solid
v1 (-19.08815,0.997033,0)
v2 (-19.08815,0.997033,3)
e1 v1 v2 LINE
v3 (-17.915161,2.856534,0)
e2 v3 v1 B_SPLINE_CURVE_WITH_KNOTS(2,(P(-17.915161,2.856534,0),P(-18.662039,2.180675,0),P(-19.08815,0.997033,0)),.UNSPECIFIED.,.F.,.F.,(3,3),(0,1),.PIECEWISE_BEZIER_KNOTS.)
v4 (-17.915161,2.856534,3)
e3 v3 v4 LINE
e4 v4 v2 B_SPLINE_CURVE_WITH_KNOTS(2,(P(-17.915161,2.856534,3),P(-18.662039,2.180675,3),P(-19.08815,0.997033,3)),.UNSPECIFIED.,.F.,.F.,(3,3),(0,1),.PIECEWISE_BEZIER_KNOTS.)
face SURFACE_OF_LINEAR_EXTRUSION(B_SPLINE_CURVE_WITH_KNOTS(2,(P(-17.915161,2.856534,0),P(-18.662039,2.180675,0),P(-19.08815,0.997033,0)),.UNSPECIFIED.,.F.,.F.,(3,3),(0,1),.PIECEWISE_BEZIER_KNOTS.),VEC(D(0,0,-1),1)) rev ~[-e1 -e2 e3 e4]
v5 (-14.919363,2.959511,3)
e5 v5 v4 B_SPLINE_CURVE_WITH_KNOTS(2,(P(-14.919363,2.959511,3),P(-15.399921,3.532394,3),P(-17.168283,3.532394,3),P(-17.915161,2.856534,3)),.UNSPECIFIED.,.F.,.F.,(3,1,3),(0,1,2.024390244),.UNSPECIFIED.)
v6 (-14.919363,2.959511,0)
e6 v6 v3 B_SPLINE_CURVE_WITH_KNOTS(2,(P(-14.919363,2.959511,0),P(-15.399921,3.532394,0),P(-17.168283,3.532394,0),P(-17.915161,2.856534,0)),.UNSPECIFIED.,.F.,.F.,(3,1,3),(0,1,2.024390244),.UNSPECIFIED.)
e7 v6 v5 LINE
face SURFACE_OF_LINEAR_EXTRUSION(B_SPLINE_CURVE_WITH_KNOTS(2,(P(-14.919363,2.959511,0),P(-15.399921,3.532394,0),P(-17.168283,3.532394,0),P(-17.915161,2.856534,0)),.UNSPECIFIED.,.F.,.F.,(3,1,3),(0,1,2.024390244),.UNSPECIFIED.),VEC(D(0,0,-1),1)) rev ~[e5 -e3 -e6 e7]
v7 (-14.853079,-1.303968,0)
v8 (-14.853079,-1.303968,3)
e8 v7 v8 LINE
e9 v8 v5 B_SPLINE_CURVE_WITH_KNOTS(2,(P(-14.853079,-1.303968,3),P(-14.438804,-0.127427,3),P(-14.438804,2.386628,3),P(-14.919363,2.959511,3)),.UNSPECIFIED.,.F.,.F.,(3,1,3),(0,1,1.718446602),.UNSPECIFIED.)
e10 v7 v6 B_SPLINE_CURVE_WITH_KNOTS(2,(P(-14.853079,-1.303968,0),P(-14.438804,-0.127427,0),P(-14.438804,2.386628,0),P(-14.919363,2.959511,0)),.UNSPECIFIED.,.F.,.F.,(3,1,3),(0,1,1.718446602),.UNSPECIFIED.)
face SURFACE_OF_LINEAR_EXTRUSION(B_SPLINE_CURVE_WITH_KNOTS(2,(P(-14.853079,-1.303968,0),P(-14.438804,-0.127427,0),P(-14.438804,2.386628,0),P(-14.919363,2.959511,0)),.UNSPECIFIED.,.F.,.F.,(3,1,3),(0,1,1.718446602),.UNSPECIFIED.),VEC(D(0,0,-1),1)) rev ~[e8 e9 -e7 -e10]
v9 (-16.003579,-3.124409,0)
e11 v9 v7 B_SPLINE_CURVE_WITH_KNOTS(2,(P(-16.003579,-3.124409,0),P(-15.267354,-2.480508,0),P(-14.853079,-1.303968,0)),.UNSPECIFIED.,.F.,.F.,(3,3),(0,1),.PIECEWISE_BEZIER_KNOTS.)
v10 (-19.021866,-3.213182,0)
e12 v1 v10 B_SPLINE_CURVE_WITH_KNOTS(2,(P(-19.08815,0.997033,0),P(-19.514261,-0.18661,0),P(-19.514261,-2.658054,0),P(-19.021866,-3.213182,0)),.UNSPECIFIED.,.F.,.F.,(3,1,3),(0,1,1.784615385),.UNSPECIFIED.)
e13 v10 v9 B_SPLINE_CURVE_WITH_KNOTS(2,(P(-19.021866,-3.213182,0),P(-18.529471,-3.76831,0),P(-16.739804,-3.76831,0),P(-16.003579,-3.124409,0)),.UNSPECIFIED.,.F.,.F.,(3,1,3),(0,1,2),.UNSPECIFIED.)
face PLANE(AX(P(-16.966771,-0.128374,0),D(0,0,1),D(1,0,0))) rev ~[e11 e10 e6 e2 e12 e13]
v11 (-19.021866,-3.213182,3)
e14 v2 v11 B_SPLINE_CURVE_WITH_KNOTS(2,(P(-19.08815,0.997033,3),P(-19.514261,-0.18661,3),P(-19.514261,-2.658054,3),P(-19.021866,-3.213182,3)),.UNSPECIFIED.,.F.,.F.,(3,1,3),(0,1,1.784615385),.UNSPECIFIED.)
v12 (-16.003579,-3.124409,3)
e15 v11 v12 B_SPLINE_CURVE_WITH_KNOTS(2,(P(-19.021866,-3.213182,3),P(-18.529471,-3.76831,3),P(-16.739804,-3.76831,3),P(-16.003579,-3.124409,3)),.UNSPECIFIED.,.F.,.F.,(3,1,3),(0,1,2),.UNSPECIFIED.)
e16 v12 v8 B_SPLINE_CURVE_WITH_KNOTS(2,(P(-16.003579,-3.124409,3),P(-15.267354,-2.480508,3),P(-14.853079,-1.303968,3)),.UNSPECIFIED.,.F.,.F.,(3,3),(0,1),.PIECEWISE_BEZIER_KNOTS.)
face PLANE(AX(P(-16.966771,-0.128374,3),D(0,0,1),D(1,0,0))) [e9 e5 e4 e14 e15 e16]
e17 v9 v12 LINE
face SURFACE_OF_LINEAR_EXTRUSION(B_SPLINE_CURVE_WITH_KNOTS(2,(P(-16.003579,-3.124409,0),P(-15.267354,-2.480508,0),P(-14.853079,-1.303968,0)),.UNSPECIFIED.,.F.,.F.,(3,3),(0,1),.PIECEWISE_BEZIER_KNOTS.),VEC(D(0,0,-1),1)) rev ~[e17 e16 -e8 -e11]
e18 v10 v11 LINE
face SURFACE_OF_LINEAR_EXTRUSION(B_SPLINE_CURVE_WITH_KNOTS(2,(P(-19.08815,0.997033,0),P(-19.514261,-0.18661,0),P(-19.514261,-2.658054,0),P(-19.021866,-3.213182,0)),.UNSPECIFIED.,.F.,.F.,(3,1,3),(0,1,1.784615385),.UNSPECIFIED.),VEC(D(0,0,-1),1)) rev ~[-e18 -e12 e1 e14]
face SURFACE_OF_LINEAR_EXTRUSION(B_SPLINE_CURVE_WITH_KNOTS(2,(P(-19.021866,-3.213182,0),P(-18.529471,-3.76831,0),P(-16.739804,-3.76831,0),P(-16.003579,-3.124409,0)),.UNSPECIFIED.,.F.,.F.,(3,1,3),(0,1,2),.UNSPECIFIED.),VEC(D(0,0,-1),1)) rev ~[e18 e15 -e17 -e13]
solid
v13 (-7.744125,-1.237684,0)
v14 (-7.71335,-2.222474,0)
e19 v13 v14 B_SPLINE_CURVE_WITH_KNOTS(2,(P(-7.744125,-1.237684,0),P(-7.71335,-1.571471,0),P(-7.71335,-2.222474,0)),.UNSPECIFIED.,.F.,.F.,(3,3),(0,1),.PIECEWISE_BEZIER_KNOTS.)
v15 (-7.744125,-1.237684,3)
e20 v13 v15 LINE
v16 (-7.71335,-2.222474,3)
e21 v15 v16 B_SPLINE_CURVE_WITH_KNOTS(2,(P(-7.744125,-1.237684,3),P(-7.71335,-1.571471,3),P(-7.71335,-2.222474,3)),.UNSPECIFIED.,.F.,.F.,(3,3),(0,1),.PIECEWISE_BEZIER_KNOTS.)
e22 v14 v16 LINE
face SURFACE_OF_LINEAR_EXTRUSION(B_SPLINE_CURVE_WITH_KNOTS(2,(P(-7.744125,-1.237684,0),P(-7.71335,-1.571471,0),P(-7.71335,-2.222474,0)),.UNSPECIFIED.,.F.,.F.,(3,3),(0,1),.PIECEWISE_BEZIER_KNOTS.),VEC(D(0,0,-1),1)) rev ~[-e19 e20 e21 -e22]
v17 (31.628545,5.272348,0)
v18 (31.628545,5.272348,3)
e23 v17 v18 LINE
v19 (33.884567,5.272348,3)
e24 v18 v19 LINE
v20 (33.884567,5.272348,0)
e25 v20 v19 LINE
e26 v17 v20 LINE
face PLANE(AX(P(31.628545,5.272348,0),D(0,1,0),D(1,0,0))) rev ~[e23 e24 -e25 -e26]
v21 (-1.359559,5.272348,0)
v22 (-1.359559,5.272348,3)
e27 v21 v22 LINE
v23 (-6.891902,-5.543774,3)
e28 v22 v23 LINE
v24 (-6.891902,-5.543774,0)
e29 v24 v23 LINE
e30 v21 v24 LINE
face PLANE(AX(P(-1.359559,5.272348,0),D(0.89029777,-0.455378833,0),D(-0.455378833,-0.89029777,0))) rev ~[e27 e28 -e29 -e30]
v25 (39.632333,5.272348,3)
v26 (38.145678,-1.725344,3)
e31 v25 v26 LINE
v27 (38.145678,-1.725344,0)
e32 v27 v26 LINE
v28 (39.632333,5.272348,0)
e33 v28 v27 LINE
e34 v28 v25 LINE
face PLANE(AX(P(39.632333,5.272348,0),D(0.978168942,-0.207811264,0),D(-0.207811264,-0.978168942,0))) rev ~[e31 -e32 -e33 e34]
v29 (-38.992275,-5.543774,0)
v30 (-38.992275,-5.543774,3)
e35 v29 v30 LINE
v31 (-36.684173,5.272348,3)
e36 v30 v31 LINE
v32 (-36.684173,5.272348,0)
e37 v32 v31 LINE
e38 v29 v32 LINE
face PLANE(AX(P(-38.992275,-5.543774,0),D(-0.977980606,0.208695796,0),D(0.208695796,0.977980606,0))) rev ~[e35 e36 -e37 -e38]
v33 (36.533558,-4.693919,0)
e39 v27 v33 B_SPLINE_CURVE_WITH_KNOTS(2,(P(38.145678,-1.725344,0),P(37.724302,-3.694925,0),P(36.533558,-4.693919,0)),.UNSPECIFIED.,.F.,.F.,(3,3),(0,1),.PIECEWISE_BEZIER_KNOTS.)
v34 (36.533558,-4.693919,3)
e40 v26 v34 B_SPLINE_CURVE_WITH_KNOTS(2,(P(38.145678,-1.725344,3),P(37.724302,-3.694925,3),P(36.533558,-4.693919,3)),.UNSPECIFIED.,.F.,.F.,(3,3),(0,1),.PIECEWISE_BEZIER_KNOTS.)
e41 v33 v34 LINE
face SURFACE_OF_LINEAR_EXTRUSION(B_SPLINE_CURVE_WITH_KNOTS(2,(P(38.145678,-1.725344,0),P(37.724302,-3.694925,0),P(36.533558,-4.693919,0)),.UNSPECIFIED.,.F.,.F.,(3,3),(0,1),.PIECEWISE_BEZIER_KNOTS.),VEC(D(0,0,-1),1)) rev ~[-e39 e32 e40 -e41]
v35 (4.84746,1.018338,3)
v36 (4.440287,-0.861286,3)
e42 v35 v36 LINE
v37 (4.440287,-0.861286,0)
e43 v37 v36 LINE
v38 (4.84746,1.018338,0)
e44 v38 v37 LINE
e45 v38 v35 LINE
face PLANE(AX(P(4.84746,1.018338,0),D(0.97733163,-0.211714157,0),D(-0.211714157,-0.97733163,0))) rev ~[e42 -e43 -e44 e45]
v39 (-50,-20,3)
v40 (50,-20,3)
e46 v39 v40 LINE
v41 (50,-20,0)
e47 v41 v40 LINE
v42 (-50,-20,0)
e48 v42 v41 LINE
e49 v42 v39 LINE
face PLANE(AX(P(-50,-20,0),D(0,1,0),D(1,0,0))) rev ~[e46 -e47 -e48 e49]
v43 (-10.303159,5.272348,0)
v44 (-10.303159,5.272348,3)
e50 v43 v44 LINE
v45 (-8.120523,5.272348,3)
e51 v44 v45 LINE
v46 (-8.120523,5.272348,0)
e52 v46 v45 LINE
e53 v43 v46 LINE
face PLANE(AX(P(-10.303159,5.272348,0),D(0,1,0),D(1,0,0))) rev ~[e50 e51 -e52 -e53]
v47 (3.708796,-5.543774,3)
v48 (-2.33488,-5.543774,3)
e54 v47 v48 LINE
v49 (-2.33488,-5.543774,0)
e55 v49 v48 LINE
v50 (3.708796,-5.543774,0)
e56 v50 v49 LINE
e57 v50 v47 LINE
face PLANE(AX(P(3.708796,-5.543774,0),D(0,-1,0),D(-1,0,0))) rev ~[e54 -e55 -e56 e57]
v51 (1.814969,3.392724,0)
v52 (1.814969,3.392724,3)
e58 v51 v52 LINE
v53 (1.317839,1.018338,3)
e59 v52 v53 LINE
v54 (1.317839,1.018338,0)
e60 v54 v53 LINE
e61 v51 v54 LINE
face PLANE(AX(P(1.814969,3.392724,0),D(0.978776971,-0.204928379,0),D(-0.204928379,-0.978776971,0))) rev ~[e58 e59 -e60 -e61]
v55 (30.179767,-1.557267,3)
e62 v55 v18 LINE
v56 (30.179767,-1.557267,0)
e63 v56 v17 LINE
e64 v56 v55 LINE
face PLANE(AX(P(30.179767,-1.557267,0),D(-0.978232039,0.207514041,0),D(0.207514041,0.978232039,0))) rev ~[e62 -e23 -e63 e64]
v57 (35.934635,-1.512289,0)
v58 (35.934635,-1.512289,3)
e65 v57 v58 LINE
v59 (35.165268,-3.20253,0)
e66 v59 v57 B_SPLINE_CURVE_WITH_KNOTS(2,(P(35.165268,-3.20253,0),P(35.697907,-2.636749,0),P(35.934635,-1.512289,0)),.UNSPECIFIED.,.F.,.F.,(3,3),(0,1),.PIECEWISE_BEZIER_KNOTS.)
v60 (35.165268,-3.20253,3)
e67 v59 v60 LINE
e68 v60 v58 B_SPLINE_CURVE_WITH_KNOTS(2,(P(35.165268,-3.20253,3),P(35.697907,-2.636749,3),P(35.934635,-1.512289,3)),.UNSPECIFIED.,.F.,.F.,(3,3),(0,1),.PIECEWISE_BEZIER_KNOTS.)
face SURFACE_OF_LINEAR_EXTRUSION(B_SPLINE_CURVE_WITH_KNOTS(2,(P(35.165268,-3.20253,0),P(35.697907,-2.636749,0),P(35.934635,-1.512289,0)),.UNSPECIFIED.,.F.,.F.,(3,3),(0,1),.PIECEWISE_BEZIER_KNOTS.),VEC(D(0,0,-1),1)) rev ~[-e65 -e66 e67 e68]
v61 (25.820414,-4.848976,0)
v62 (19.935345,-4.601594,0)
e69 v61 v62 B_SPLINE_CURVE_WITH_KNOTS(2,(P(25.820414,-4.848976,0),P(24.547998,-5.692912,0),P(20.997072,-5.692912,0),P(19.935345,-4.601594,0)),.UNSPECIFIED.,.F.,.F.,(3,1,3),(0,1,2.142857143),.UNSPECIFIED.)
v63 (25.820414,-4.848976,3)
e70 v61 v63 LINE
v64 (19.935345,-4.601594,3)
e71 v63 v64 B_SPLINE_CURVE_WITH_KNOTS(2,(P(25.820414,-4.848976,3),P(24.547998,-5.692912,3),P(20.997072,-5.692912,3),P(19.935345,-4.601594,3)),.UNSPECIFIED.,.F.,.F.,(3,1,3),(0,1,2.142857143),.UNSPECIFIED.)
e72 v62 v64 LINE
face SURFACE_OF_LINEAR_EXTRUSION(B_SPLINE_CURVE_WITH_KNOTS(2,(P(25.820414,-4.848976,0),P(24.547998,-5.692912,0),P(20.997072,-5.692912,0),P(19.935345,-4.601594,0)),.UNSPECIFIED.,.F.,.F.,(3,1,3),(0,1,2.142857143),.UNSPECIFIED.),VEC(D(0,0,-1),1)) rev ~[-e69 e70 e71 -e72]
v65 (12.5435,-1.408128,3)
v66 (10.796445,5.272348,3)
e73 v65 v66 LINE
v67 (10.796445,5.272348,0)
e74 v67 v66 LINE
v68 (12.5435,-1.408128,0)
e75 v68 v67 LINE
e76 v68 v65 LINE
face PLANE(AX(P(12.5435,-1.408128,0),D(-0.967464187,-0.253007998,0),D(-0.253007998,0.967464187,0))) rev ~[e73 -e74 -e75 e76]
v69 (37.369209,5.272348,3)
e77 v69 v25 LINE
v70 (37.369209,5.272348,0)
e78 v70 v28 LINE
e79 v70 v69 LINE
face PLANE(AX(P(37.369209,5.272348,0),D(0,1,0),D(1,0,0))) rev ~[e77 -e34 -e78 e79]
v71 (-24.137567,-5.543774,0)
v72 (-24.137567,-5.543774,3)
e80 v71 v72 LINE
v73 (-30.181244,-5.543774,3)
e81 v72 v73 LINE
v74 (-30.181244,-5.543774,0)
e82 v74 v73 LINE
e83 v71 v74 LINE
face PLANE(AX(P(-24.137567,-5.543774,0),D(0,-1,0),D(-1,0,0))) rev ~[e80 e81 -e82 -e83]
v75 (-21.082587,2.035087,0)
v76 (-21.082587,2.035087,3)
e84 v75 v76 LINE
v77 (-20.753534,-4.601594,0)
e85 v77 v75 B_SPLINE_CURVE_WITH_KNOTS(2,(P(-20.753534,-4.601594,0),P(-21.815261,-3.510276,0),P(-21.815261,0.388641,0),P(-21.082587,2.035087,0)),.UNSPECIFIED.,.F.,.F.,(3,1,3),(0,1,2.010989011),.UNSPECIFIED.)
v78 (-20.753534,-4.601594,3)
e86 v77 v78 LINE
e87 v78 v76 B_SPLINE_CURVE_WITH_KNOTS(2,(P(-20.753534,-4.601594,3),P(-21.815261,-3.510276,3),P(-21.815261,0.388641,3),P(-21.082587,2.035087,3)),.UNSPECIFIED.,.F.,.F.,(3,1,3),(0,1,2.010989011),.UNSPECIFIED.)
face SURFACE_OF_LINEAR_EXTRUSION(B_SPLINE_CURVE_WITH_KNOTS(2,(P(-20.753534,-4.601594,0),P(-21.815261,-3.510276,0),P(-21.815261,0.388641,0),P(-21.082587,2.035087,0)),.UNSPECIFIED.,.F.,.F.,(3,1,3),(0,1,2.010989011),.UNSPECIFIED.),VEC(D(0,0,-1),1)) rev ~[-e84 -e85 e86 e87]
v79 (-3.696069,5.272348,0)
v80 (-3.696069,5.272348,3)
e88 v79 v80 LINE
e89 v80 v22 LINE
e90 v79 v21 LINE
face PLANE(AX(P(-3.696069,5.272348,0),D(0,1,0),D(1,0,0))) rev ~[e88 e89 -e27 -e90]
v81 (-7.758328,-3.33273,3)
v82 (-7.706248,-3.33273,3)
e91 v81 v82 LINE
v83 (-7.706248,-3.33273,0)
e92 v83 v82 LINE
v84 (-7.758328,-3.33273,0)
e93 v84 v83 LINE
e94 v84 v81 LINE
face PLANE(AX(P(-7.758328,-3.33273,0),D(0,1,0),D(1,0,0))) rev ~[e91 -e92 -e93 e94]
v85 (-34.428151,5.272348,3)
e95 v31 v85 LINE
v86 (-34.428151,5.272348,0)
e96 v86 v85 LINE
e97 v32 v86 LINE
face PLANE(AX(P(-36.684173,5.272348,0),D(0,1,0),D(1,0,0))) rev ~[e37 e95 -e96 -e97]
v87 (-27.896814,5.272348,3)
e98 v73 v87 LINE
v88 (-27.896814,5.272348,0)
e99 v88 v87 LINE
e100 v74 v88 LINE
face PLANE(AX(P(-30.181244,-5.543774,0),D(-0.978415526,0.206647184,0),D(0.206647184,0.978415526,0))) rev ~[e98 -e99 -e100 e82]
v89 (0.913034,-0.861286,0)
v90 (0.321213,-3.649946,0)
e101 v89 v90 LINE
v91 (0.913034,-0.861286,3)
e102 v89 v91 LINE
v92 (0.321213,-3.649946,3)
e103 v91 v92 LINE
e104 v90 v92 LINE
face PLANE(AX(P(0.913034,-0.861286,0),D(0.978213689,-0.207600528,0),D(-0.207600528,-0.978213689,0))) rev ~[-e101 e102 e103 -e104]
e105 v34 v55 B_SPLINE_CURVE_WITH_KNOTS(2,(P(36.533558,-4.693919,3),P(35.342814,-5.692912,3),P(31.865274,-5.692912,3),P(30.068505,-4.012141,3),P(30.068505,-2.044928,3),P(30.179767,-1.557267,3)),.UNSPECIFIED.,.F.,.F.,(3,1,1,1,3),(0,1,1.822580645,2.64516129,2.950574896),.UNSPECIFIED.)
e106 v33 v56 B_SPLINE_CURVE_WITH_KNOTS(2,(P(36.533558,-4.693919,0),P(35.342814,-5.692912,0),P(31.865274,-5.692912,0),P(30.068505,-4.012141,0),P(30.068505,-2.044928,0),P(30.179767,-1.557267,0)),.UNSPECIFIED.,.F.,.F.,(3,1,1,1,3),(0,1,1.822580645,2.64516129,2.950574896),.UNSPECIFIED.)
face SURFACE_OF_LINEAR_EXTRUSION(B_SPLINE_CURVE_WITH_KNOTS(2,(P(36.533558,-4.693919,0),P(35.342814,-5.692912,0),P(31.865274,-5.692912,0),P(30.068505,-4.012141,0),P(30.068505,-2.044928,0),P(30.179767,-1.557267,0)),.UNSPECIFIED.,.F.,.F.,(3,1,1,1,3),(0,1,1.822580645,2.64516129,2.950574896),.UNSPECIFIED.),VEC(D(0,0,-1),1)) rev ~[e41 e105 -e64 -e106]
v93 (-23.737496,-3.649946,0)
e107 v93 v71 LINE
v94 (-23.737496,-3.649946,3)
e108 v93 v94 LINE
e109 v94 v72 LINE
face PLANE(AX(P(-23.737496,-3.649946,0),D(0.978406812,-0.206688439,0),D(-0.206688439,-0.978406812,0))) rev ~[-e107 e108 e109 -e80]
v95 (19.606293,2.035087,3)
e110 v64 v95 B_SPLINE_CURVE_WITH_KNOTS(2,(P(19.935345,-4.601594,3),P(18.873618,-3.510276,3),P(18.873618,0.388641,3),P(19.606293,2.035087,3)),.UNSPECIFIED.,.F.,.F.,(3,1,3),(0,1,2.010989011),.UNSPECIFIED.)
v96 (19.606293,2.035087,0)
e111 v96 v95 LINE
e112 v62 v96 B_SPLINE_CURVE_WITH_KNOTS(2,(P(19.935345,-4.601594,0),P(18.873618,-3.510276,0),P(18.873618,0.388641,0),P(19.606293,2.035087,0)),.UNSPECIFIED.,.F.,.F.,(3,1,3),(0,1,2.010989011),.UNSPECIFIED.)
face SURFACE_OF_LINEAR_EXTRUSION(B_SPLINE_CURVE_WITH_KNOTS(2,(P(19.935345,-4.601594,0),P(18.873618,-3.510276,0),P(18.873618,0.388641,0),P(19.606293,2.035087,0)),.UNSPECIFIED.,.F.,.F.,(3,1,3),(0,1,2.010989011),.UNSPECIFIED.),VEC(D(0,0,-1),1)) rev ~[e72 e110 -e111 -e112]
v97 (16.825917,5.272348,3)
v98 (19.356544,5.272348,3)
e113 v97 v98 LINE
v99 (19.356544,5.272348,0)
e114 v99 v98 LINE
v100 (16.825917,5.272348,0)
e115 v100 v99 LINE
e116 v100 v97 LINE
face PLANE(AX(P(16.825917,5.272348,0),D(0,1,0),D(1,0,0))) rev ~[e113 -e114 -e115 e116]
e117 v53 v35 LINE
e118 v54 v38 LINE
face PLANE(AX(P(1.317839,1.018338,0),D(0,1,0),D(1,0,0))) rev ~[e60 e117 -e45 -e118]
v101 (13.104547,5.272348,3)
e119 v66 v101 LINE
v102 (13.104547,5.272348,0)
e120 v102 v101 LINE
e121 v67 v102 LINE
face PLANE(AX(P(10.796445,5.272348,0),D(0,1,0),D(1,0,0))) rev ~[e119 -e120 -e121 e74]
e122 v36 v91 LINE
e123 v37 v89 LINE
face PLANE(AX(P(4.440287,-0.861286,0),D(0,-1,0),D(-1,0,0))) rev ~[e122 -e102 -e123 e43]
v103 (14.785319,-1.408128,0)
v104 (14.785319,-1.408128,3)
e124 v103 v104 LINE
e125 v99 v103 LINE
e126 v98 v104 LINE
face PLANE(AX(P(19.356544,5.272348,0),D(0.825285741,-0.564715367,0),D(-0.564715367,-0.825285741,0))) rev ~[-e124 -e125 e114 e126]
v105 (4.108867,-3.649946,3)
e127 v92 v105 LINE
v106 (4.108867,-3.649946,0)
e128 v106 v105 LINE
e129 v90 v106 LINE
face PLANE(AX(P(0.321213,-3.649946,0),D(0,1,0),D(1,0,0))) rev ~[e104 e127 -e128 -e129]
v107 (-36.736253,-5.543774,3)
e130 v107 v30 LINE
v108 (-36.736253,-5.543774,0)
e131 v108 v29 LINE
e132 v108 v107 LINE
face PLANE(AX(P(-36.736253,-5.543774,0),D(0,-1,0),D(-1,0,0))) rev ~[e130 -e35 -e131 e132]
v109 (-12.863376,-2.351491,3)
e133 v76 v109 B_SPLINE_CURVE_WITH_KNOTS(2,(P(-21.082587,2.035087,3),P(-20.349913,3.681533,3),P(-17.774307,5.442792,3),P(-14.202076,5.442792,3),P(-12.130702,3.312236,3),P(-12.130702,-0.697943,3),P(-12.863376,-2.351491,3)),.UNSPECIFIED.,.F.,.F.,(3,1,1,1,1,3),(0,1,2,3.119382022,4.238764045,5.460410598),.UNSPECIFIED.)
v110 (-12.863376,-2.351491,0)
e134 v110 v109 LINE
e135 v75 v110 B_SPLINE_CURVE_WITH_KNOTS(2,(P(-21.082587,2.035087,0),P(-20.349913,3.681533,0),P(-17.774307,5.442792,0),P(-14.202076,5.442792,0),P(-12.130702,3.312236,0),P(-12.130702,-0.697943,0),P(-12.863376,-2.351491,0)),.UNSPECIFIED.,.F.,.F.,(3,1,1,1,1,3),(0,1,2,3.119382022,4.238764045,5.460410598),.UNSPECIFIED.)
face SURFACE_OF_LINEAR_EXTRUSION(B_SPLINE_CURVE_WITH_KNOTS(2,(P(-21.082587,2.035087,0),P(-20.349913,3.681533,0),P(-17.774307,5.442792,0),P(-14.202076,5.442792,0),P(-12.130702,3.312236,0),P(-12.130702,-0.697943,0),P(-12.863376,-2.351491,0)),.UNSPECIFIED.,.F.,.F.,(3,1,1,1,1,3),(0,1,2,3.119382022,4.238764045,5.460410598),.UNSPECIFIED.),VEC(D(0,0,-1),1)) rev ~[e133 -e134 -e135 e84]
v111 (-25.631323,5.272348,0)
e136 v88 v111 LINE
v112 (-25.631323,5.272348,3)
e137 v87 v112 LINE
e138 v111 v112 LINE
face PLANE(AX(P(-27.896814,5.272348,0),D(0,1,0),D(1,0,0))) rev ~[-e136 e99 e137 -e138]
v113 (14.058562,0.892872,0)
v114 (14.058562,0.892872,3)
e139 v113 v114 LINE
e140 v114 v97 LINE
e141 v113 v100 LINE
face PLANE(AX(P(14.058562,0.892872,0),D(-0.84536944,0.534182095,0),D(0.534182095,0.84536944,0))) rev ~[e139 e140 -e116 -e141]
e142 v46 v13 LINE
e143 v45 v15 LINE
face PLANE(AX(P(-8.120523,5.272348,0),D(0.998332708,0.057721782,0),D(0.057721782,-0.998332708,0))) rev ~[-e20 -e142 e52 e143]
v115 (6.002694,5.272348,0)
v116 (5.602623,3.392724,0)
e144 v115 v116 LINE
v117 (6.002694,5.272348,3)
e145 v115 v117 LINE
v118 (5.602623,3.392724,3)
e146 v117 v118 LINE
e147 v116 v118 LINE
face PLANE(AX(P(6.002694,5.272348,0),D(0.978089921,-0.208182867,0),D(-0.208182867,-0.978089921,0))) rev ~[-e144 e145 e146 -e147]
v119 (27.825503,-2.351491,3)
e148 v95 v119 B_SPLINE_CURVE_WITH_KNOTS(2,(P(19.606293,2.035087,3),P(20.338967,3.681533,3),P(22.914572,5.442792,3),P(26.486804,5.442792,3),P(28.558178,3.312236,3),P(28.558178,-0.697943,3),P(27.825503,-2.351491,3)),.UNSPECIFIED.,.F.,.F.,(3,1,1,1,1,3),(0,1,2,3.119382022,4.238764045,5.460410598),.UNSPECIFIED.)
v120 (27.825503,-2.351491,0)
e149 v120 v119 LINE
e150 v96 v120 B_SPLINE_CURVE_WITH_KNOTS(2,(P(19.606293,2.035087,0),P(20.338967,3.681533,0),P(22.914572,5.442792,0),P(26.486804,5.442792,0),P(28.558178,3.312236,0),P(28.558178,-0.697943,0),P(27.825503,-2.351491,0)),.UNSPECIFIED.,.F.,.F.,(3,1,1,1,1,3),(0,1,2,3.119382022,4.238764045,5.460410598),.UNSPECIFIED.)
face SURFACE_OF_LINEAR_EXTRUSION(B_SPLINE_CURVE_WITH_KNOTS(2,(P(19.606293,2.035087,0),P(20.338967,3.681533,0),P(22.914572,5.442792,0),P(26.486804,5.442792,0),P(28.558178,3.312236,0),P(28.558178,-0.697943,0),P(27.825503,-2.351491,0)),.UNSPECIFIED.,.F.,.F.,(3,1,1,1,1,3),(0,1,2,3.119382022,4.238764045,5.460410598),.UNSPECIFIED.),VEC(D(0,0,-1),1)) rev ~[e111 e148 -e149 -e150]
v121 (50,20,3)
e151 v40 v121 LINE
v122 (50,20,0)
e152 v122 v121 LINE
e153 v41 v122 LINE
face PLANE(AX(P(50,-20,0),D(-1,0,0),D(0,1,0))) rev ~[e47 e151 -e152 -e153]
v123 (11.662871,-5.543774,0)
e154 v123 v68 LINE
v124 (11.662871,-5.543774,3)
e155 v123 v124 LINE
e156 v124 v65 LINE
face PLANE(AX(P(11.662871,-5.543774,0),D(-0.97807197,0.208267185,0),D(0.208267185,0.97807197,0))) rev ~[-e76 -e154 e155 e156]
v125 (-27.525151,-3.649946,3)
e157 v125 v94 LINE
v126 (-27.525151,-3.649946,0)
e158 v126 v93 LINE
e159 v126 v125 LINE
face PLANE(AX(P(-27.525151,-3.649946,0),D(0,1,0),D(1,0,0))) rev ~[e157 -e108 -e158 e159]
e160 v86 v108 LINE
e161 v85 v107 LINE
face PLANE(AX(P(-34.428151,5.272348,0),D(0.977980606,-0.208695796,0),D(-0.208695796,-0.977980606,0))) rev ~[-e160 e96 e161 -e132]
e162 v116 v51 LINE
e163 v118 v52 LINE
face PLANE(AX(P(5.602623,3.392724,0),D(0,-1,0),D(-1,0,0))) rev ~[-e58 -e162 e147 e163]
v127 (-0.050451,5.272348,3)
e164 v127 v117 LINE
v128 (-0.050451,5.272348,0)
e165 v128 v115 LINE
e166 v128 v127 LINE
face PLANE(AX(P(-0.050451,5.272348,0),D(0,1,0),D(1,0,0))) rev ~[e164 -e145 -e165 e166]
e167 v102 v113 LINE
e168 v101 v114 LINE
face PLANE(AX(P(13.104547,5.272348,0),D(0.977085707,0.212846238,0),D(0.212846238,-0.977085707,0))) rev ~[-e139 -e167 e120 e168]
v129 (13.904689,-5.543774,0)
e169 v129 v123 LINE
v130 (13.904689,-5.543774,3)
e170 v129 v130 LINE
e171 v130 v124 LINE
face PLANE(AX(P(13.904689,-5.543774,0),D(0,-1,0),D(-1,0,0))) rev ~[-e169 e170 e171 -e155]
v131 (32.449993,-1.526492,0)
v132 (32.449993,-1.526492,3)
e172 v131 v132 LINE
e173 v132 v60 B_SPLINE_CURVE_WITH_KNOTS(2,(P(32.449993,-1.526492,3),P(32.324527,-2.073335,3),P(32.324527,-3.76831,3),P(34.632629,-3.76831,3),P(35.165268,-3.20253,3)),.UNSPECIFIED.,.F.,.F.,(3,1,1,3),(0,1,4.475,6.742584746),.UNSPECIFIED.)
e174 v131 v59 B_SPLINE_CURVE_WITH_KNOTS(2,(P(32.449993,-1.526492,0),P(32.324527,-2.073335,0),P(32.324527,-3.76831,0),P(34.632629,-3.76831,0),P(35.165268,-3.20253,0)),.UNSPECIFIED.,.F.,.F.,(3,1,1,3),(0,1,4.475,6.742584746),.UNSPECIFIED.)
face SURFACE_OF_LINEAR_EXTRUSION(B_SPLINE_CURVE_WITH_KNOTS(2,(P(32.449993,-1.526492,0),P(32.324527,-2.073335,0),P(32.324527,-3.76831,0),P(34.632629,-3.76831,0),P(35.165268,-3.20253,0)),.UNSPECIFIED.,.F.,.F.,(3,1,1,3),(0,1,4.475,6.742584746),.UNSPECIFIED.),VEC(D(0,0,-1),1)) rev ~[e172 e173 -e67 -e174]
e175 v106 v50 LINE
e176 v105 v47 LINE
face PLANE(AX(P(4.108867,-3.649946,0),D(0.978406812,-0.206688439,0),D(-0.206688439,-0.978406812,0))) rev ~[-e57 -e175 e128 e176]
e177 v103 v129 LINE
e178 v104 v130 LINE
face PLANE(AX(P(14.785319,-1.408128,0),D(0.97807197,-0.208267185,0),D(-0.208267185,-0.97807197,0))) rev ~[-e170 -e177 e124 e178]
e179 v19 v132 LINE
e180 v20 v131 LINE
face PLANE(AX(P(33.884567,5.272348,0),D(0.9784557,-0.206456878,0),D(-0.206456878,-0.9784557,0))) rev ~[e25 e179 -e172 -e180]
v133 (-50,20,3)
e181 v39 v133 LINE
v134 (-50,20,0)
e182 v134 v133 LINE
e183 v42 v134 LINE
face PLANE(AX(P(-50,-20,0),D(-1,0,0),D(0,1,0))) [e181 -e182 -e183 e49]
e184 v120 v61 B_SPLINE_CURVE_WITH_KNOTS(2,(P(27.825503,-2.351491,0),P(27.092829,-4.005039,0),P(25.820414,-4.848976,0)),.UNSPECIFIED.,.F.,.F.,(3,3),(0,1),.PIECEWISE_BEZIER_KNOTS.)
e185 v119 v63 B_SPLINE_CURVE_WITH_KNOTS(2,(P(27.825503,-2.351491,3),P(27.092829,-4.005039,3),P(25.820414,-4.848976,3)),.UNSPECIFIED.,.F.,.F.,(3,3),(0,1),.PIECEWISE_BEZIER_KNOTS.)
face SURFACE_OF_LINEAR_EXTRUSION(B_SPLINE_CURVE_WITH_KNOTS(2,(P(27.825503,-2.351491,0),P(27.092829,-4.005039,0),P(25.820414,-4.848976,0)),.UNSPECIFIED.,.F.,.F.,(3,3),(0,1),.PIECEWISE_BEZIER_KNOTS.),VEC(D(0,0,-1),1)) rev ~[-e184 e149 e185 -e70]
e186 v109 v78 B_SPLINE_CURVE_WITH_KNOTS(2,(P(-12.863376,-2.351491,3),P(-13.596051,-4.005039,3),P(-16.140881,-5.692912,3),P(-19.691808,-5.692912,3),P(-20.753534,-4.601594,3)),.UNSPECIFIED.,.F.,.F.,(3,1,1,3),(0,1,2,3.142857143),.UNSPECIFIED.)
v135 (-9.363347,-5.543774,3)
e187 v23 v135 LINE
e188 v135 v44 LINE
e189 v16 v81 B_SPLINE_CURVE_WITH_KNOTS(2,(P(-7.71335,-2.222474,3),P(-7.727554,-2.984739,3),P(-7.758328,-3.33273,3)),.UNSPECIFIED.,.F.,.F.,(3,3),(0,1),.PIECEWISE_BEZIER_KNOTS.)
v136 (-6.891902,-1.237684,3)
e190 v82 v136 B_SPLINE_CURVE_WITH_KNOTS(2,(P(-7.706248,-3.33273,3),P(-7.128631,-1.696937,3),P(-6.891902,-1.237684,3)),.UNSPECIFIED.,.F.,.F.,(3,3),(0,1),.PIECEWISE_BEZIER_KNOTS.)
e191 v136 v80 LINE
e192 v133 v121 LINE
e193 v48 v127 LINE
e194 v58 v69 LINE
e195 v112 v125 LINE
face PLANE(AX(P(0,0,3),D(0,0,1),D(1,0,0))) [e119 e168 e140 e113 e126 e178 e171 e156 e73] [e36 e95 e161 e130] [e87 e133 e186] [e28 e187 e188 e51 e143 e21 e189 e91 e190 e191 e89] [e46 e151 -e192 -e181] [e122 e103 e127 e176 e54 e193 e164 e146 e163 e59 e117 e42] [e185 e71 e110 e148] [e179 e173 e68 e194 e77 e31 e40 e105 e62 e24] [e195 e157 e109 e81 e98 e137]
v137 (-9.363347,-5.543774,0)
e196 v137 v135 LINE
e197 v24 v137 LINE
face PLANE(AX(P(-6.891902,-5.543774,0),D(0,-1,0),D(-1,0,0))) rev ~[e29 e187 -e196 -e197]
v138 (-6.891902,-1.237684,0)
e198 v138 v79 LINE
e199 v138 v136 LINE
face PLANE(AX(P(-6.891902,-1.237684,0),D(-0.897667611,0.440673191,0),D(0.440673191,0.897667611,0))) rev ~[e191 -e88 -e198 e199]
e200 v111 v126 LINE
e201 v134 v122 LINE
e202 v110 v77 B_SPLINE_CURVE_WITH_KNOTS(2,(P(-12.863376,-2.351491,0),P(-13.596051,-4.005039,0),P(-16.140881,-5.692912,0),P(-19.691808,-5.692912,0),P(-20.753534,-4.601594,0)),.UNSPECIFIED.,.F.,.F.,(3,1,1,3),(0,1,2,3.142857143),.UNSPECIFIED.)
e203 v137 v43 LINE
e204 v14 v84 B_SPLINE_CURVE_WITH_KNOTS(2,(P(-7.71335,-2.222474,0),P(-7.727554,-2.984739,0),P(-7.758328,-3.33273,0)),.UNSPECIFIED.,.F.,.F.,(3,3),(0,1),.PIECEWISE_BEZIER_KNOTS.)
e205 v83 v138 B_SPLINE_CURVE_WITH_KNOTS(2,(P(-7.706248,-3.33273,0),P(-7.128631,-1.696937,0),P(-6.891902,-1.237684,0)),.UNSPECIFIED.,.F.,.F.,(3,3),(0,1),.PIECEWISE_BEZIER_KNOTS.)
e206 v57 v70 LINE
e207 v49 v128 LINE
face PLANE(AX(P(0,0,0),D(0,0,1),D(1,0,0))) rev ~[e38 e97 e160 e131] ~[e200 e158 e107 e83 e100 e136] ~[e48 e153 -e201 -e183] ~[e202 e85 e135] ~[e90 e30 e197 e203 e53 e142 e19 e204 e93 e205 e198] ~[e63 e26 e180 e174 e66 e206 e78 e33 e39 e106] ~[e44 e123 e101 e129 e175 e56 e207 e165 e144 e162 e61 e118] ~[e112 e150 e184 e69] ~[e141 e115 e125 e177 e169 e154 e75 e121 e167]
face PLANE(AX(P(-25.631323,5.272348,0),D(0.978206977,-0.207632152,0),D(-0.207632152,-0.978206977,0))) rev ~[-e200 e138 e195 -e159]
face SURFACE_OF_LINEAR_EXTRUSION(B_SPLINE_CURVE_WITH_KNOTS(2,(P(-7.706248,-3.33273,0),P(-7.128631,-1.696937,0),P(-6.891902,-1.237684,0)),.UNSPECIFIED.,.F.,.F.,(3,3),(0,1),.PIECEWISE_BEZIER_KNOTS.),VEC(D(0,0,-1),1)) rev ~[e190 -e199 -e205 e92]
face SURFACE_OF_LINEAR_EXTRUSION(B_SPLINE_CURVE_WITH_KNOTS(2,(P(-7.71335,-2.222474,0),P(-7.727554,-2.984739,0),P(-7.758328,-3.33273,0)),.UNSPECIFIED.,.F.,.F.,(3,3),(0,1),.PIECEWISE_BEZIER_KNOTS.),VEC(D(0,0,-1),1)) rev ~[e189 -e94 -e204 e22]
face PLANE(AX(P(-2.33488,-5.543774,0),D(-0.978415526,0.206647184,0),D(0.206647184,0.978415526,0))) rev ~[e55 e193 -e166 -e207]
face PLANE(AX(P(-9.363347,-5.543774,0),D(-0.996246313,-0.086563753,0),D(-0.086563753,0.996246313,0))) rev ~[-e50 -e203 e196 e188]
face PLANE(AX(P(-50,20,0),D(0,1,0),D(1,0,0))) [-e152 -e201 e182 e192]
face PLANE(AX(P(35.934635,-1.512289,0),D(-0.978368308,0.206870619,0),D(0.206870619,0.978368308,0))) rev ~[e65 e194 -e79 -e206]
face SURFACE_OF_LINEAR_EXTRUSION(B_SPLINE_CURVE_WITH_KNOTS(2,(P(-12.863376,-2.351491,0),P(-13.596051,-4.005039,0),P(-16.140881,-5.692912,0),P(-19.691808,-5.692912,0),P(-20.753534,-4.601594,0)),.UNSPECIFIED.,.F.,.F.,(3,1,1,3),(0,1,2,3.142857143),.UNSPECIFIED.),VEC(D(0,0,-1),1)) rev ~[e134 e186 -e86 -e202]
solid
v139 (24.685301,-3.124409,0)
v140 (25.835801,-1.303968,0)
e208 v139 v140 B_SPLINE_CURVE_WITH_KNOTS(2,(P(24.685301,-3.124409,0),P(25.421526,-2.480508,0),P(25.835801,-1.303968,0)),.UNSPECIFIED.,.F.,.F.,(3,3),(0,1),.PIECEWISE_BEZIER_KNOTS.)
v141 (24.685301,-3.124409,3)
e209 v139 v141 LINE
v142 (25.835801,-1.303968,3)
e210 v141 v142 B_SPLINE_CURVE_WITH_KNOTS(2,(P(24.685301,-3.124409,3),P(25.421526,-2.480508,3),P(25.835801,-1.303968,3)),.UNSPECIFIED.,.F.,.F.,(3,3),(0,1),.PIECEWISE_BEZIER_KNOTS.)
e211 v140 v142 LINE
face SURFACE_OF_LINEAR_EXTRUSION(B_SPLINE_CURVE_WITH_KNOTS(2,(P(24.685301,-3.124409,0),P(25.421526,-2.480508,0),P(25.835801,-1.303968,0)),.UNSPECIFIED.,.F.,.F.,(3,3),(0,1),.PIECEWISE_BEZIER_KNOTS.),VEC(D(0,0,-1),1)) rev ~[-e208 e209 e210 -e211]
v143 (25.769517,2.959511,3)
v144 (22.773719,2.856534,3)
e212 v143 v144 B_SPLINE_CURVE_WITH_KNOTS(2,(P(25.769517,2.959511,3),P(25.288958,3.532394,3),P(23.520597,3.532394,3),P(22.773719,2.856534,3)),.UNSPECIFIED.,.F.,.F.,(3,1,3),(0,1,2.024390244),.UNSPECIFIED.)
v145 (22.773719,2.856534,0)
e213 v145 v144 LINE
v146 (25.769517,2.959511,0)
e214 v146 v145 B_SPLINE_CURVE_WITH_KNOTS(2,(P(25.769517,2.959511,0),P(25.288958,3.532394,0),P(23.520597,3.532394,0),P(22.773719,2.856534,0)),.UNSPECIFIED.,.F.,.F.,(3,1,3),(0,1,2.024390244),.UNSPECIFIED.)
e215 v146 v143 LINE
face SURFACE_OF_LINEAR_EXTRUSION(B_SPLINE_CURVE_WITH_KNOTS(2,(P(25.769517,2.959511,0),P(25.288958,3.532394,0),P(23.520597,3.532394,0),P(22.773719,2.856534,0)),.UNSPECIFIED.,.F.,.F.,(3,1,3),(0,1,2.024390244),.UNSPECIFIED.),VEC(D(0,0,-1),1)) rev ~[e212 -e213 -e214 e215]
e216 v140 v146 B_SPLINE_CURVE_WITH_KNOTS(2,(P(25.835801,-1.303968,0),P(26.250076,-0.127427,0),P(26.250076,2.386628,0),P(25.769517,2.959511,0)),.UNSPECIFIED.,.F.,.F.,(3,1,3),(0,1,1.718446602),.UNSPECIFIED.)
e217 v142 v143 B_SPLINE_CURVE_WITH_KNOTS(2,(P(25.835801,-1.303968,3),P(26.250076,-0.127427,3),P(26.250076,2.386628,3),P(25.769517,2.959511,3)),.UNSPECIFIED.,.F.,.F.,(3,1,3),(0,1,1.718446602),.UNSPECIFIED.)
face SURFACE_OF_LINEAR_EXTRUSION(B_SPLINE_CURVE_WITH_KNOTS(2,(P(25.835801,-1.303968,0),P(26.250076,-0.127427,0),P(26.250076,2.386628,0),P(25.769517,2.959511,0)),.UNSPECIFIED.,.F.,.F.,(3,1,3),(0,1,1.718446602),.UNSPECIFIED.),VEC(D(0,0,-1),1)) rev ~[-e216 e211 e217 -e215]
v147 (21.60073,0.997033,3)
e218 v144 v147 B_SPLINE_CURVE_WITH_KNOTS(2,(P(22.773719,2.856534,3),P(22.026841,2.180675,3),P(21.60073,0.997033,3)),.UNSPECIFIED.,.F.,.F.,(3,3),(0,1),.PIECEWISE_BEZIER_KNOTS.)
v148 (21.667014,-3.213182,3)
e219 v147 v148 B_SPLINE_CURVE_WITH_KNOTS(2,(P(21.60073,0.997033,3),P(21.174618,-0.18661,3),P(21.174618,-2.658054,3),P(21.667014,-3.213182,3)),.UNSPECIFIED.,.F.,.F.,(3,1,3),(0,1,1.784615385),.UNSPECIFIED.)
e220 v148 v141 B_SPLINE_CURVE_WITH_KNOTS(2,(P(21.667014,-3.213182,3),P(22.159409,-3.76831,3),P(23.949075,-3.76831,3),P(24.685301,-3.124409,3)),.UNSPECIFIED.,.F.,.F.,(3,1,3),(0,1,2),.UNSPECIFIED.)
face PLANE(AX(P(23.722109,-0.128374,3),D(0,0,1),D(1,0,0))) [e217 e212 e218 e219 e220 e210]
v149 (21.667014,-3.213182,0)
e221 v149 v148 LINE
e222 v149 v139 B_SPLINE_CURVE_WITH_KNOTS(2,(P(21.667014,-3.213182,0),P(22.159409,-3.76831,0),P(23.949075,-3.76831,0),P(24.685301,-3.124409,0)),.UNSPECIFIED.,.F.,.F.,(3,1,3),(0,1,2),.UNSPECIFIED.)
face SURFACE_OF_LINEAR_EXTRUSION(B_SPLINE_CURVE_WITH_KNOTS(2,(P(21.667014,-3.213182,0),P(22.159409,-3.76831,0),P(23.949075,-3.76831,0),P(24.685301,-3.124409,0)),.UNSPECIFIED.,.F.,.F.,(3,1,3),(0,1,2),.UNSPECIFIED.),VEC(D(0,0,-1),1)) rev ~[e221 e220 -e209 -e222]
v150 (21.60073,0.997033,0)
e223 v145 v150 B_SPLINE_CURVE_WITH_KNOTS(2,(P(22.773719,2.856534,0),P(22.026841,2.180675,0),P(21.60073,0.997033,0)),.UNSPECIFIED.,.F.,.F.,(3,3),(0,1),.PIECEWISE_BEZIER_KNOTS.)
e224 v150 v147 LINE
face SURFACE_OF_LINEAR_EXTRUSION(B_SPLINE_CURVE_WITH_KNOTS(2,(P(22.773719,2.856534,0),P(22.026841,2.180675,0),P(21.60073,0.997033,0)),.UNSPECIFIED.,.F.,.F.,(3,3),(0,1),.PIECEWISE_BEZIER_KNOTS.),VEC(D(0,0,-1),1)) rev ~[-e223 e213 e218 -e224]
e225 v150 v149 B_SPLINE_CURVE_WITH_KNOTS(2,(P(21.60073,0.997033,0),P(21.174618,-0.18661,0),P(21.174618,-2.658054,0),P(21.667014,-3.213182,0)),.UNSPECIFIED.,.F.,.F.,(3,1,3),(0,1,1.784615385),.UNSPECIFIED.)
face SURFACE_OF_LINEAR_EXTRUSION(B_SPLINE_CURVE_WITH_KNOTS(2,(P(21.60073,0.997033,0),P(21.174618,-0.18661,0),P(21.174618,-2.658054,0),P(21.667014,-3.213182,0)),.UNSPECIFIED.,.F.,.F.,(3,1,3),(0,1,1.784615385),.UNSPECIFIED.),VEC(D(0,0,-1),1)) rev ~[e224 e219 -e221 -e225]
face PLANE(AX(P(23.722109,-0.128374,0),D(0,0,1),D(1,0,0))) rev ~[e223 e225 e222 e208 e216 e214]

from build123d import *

# Parameters (mm, degrees)
F1_DEPTH = 3
F0_W     = 100
F0_H     = 40


with BuildPart() as f1:
    # F0 (on Top) → F1 (new body)
    with BuildSketch(Plane.XY):
        with BuildLine():
            add(Edge.make_bspline(
                [(-14.9193627329, 2.9595110785), (-15.3999214119, 3.5323938388), (-16.2734492571, 3.5323938388)],
                knots=[0, 0, 0, 1, 1, 1], degree=2))
            add(Edge.make_bspline(
                [(-16.2734492571, 3.5323938388), (-17.1682826595, 3.5323938388), (-17.9151608035, 2.8565342187)],
                knots=[0, 0, 0, 1, 1, 1], degree=2))
            add(Edge.make_bspline(
                [(-17.9151608035, 2.8565342187), (-18.6620389476, 2.1806745987), (-19.0881500916, 0.9970325321)],
                knots=[0, 0, 0, 1, 1, 1], degree=2))
            add(Edge.make_bspline(
                [(-19.0881500916, 0.9970325321), (-19.5142612356, -0.1866095346), (-19.5142612356, -1.5714707525)],
                knots=[0, 0, 0, 1, 1, 1], degree=2))
            add(Edge.make_bspline(
                [(-19.5142612356, -1.5714707525), (-19.5142612356, -2.6580541697), (-19.0218661358, -3.213182299)],
                knots=[0, 0, 0, 1, 1, 1], degree=2))
            add(Edge.make_bspline(
                [(-19.0218661358, -3.213182299), (-18.5294710361, -3.7683104282), (-17.6346376337, -3.7683104282)],
                knots=[0, 0, 0, 1, 1, 1], degree=2))
            add(Edge.make_bspline(
                [(-17.6346376337, -3.7683104282), (-16.7398042314, -3.7683104282), (-16.0035788659, -3.124409144)],
                knots=[0, 0, 0, 1, 1, 1], degree=2))
            add(Edge.make_bspline(
                [(-16.0035788659, -3.124409144), (-15.2673535005, -2.4805078597), (-14.8530787771, -1.3039676455)],
                knots=[0, 0, 0, 1, 1, 1], degree=2))
            add(Edge.make_bspline(
                [(-14.8530787771, -1.3039676455), (-14.4388040538, -0.1274274312), (-14.4388040538, 1.3355541631)],
                knots=[0, 0, 0, 1, 1, 1], degree=2))
            add(Edge.make_bspline(
                [(-14.4388040538, 1.3355541631), (-14.4388040538, 2.3866283183), (-14.9193627329, 2.9595110785)],
                knots=[0, 0, 0, 1, 1, 1], degree=2))
        make_face()
    extrude(amount=F1_DEPTH)


with BuildPart() as f1b:
    # F0 (on Top) → F1, piece 2 (new body)
    with BuildSketch(Plane.XY):
        with BuildLine():
            add(Edge.make_bspline(
                [(25.7695169499, 2.9595110785), (25.2889582709, 3.5323938388), (24.4154304257, 3.5323938388)],
                knots=[0, 0, 0, 1, 1, 1], degree=2))
            add(Edge.make_bspline(
                [(24.4154304257, 3.5323938388), (23.5205970233, 3.5323938388), (22.7737188793, 2.8565342187)],
                knots=[0, 0, 0, 1, 1, 1], degree=2))
            add(Edge.make_bspline(
                [(22.7737188793, 2.8565342187), (22.0268407352, 2.1806745987), (21.6007295912, 0.9970325321)],
                knots=[0, 0, 0, 1, 1, 1], degree=2))
            add(Edge.make_bspline(
                [(21.6007295912, 0.9970325321), (21.1746184472, -0.1866095346), (21.1746184472, -1.5714707525)],
                knots=[0, 0, 0, 1, 1, 1], degree=2))
            add(Edge.make_bspline(
                [(21.1746184472, -1.5714707525), (21.1746184472, -2.6580541697), (21.6670135469, -3.213182299)],
                knots=[0, 0, 0, 1, 1, 1], degree=2))
            add(Edge.make_bspline(
                [(21.6670135469, -3.213182299), (22.1594086467, -3.7683104282), (23.054242049, -3.7683104282)],
                knots=[0, 0, 0, 1, 1, 1], degree=2))
            add(Edge.make_bspline(
                [(23.054242049, -3.7683104282), (23.9490754514, -3.7683104282), (24.6853008169, -3.124409144)],
                knots=[0, 0, 0, 1, 1, 1], degree=2))
            add(Edge.make_bspline(
                [(24.6853008169, -3.124409144), (25.4215261823, -2.4805078597), (25.8358009056, -1.3039676455)],
                knots=[0, 0, 0, 1, 1, 1], degree=2))
            add(Edge.make_bspline(
                [(25.8358009056, -1.3039676455), (26.250075629, -0.1274274312), (26.250075629, 1.3355541631)],
                knots=[0, 0, 0, 1, 1, 1], degree=2))
            add(Edge.make_bspline(
                [(26.250075629, 1.3355541631), (26.250075629, 2.3866283183), (25.7695169499, 2.9595110785)],
                knots=[0, 0, 0, 1, 1, 1], degree=2))
        make_face()
    extrude(amount=F1_DEPTH)


with BuildPart() as f1c:
    # F0 (on Top) → F1, piece 3 (new body)
    with BuildSketch(Plane.XY):
        Rectangle(F0_W, F0_H)
        Polygon((-36.7362533052, -5.5437735282), (-38.9922750842, -5.5437735282), (-36.6841730542, 5.2723476768), (-34.4281512752, 5.2723476768), align=None, mode=Mode.SUBTRACT)
        Polygon((-24.1375671479, -5.5437735282), (-30.1812435401, -5.5437735282), (-27.8968143515, 5.2723476768), (-25.631323436, 5.2723476768), (-27.5251507426, -3.6499462216), (-23.7374961293, -3.6499462216), align=None, mode=Mode.SUBTRACT)
        with BuildLine():
            add(Edge.make_bspline(
                [(-13.1663888322, 4.3775142744), (-12.1307020239, 3.3122364144), (-12.1307020239, 1.3947362664)],
                knots=[0, 0, 0, 1, 1, 1], degree=2))
            add(Edge.make_bspline(
                [(-12.1307020239, 1.3947362664), (-12.1307020239, -0.6979429074), (-12.8633764631, -2.3514908745)],
                knots=[0, 0, 0, 1, 1, 1], degree=2))
            add(Edge.make_bspline(
                [(-12.8633764631, -2.3514908745), (-13.5960509024, -4.0050388416), (-14.868466124, -4.8489756351)],
                knots=[0, 0, 0, 1, 1, 1], degree=2))
            add(Edge.make_bspline(
                [(-14.868466124, -4.8489756351), (-16.1408813456, -5.6929124286), (-17.7979802389, -5.6929124286)],
                knots=[0, 0, 0, 1, 1, 1], degree=2))
            add(Edge.make_bspline(
                [(-17.7979802389, -5.6929124286), (-19.6918075456, -5.6929124286), (-20.7535344793, -4.6015944431)],
                knots=[0, 0, 0, 1, 1, 1], degree=2))
            add(Edge.make_bspline(
                [(-20.7535344793, -4.6015944431), (-21.8152614131, -3.5102764577), (-21.8152614131, -1.5714707525)],
                knots=[0, 0, 0, 1, 1, 1], degree=2))
            add(Edge.make_bspline(
                [(-21.8152614131, -1.5714707525), (-21.8152614131, 0.3886405098), (-21.0825869739, 2.0350866245)],
                knots=[0, 0, 0, 1, 1, 1], degree=2))
            add(Edge.make_bspline(
                [(-21.0825869739, 2.0350866245), (-20.3499125346, 3.6815327392), (-19.0621099661, 4.5621624368)],
                knots=[0, 0, 0, 1, 1, 1], degree=2))
            add(Edge.make_bspline(
                [(-19.0621099661, 4.5621624368), (-17.7743073976, 5.4427921344), (-16.0888010947, 5.4427921344)],
                knots=[0, 0, 0, 1, 1, 1], degree=2))
            add(Edge.make_bspline(
                [(-16.0888010947, 5.4427921344), (-14.2020756405, 5.4427921344), (-13.1663888322, 4.3775142744)],
                knots=[0, 0, 0, 1, 1, 1], degree=2))
        make_face(mode=Mode.SUBTRACT)
        with BuildLine():
            Line((-7.7583282297, -3.3327301477), (-7.7062479788, -3.3327301477))
            add(Edge.make_bspline(
                [(-7.7062479788, -3.3327301477), (-7.1286306503, -1.6969368116), (-6.8919022369, -1.2376836898)],
                knots=[0, 0, 0, 1, 1, 1], degree=2))
            Line((-6.8919022369, -1.2376836898), (-3.696068657, 5.2723476768))
            Line((-3.696068657, 5.2723476768), (-1.3595592175, 5.2723476768))
            Line((-1.3595592175, 5.2723476768), (-6.8919022369, -5.5437735282))
            Line((-6.8919022369, -5.5437735282), (-9.3633468721, -5.5437735282))
            Line((-9.3633468721, -5.5437735282), (-10.303158673, 5.2723476768))
            Line((-10.303158673, 5.2723476768), (-8.1205227021, 5.2723476768))
            Line((-8.1205227021, 5.2723476768), (-7.7441245249, -1.2376836898))
            add(Edge.make_bspline(
                [(-7.7441245249, -1.2376836898), (-7.7133498312, -1.5714707525), (-7.7133498312, -2.2224738892)],
                knots=[0, 0, 0, 1, 1, 1], degree=2))
            add(Edge.make_bspline(
                [(-7.7133498312, -2.2224738892), (-7.727553536, -2.9847393801), (-7.7583282297, -3.3327301477)],
                knots=[0, 0, 0, 1, 1, 1], degree=2))
        make_face(mode=Mode.SUBTRACT)
        Polygon((4.1088671304, -3.6499462216), (3.7087961119, -5.5437735282), (-2.3348802804, -5.5437735282), (-0.0504510917, 5.2723476768), (6.002694437, 5.2723476768), (5.6026234185, 3.3927240749), (1.8149688053, 3.3927240749), (1.3178391373, 1.0183380893), (4.84745978, 1.0183380893), (4.4402869091, -0.8612855126), (0.9130335505, -0.8612855126), (0.3212125172, -3.6499462216), align=None, mode=Mode.SUBTRACT)
        Polygon((13.1045468369, 5.2723476768), (14.0585623426, 0.8928720302), (16.8259174944, 5.2723476768), (19.3565442329, 5.2723476768), (14.7853185715, -1.4081281474), (13.9046888739, -5.5437735282), (11.6628707997, -5.5437735282), (12.5435004973, -1.4081281474), (10.7964448069, 5.2723476768), align=None, mode=Mode.SUBTRACT)
        with BuildLine():
            add(Edge.make_bspline(
                [(27.5224908506, 4.3775142744), (28.5581776589, 3.3122364144), (28.5581776589, 1.3947362664)],
                knots=[0, 0, 0, 1, 1, 1], degree=2))
            add(Edge.make_bspline(
                [(28.5581776589, 1.3947362664), (28.5581776589, -0.6979429074), (27.8255032197, -2.3514908745)],
                knots=[0, 0, 0, 1, 1, 1], degree=2))
            add(Edge.make_bspline(
                [(27.8255032197, -2.3514908745), (27.0928287804, -4.0050388416), (25.8204135588, -4.8489756351)],
                knots=[0, 0, 0, 1, 1, 1], degree=2))
            add(Edge.make_bspline(
                [(25.8204135588, -4.8489756351), (24.5479983371, -5.6929124286), (22.8908994438, -5.6929124286)],
                knots=[0, 0, 0, 1, 1, 1], degree=2))
            add(Edge.make_bspline(
                [(22.8908994438, -5.6929124286), (20.9970721372, -5.6929124286), (19.9353452035, -4.6015944431)],
                knots=[0, 0, 0, 1, 1, 1], degree=2))
            add(Edge.make_bspline(
                [(19.9353452035, -4.6015944431), (18.8736182697, -3.5102764577), (18.8736182697, -1.5714707525)],
                knots=[0, 0, 0, 1, 1, 1], degree=2))
            add(Edge.make_bspline(
                [(18.8736182697, -1.5714707525), (18.8736182697, 0.3886405098), (19.6062927089, 2.0350866245)],
                knots=[0, 0, 0, 1, 1, 1], degree=2))
            add(Edge.make_bspline(
                [(19.6062927089, 2.0350866245), (20.3389671482, 3.6815327392), (21.6267697167, 4.5621624368)],
                knots=[0, 0, 0, 1, 1, 1], degree=2))
            add(Edge.make_bspline(
                [(21.6267697167, 4.5621624368), (22.9145722852, 5.4427921344), (24.6000785881, 5.4427921344)],
                knots=[0, 0, 0, 1, 1, 1], degree=2))
            add(Edge.make_bspline(
                [(24.6000785881, 5.4427921344), (26.4868040423, 5.4427921344), (27.5224908506, 4.3775142744)],
                knots=[0, 0, 0, 1, 1, 1], degree=2))
        make_face(mode=Mode.SUBTRACT)
        with BuildLine():
            Line((37.369209203, 5.2723476768), (39.6323328344, 5.2723476768))
            Line((39.6323328344, 5.2723476768), (38.1456783987, -1.7253442212))
            add(Edge.make_bspline(
                [(38.1456783987, -1.7253442212), (37.724301823, -3.6949246201), (36.5335579039, -4.6939185243)],
                knots=[0, 0, 0, 1, 1, 1], degree=2))
            add(Edge.make_bspline(
                [(36.5335579039, -4.6939185243), (35.3428139849, -5.6929124286), (33.4347829735, -5.6929124286)],
                knots=[0, 0, 0, 1, 1, 1], degree=2))
            add(Edge.make_bspline(
                [(33.4347829735, -5.6929124286), (31.8652735931, -5.6929124286), (30.9668892645, -4.8525265613)],
                knots=[0, 0, 0, 1, 1, 1], degree=2))
            add(Edge.make_bspline(
                [(30.9668892645, -4.8525265613), (30.0685049359, -4.012140694), (30.0685049359, -2.5775665092)],
                knots=[0, 0, 0, 1, 1, 1], degree=2))
            add(Edge.make_bspline(
                [(30.0685049359, -2.5775665092), (30.0685049359, -2.0449275792), (30.1797672902, -1.5572670477)],
                knots=[0, 0, 0, 1, 1, 1], degree=2))
            Line((30.1797672902, -1.5572670477), (31.6285451798, 5.2723476768))
            Line((31.6285451798, 5.2723476768), (33.8845669588, 5.2723476768))
            Line((33.8845669588, 5.2723476768), (32.449992774, -1.526492354))
            add(Edge.make_bspline(
                [(32.449992774, -1.526492354), (32.324526715, -2.0733349888), (32.324526715, -2.4521004501)],
                knots=[0, 0, 0, 1, 1, 1], degree=2))
            add(Edge.make_bspline(
                [(32.324526715, -2.4521004501), (32.324526715, -3.7683104282), (33.7212243536, -3.7683104282)],
                knots=[0, 0, 0, 1, 1, 1], degree=2))
            add(Edge.make_bspline(
                [(33.7212243536, -3.7683104282), (34.6326287449, -3.7683104282), (35.1652676749, -3.2025295204)],
                knots=[0, 0, 0, 1, 1, 1], degree=2))
            add(Edge.make_bspline(
                [(35.1652676749, -3.2025295204), (35.6979066049, -2.6367486125), (35.9346350182, -1.5122886492)],
                knots=[0, 0, 0, 1, 1, 1], degree=2))
            Line((35.9346350182, -1.5122886492), (37.369209203, 5.2723476768))
        make_face(mode=Mode.SUBTRACT)
    extrude(amount=F1_DEPTH)


solid = Compound([f1.part, f1b.part, f1c.part])
